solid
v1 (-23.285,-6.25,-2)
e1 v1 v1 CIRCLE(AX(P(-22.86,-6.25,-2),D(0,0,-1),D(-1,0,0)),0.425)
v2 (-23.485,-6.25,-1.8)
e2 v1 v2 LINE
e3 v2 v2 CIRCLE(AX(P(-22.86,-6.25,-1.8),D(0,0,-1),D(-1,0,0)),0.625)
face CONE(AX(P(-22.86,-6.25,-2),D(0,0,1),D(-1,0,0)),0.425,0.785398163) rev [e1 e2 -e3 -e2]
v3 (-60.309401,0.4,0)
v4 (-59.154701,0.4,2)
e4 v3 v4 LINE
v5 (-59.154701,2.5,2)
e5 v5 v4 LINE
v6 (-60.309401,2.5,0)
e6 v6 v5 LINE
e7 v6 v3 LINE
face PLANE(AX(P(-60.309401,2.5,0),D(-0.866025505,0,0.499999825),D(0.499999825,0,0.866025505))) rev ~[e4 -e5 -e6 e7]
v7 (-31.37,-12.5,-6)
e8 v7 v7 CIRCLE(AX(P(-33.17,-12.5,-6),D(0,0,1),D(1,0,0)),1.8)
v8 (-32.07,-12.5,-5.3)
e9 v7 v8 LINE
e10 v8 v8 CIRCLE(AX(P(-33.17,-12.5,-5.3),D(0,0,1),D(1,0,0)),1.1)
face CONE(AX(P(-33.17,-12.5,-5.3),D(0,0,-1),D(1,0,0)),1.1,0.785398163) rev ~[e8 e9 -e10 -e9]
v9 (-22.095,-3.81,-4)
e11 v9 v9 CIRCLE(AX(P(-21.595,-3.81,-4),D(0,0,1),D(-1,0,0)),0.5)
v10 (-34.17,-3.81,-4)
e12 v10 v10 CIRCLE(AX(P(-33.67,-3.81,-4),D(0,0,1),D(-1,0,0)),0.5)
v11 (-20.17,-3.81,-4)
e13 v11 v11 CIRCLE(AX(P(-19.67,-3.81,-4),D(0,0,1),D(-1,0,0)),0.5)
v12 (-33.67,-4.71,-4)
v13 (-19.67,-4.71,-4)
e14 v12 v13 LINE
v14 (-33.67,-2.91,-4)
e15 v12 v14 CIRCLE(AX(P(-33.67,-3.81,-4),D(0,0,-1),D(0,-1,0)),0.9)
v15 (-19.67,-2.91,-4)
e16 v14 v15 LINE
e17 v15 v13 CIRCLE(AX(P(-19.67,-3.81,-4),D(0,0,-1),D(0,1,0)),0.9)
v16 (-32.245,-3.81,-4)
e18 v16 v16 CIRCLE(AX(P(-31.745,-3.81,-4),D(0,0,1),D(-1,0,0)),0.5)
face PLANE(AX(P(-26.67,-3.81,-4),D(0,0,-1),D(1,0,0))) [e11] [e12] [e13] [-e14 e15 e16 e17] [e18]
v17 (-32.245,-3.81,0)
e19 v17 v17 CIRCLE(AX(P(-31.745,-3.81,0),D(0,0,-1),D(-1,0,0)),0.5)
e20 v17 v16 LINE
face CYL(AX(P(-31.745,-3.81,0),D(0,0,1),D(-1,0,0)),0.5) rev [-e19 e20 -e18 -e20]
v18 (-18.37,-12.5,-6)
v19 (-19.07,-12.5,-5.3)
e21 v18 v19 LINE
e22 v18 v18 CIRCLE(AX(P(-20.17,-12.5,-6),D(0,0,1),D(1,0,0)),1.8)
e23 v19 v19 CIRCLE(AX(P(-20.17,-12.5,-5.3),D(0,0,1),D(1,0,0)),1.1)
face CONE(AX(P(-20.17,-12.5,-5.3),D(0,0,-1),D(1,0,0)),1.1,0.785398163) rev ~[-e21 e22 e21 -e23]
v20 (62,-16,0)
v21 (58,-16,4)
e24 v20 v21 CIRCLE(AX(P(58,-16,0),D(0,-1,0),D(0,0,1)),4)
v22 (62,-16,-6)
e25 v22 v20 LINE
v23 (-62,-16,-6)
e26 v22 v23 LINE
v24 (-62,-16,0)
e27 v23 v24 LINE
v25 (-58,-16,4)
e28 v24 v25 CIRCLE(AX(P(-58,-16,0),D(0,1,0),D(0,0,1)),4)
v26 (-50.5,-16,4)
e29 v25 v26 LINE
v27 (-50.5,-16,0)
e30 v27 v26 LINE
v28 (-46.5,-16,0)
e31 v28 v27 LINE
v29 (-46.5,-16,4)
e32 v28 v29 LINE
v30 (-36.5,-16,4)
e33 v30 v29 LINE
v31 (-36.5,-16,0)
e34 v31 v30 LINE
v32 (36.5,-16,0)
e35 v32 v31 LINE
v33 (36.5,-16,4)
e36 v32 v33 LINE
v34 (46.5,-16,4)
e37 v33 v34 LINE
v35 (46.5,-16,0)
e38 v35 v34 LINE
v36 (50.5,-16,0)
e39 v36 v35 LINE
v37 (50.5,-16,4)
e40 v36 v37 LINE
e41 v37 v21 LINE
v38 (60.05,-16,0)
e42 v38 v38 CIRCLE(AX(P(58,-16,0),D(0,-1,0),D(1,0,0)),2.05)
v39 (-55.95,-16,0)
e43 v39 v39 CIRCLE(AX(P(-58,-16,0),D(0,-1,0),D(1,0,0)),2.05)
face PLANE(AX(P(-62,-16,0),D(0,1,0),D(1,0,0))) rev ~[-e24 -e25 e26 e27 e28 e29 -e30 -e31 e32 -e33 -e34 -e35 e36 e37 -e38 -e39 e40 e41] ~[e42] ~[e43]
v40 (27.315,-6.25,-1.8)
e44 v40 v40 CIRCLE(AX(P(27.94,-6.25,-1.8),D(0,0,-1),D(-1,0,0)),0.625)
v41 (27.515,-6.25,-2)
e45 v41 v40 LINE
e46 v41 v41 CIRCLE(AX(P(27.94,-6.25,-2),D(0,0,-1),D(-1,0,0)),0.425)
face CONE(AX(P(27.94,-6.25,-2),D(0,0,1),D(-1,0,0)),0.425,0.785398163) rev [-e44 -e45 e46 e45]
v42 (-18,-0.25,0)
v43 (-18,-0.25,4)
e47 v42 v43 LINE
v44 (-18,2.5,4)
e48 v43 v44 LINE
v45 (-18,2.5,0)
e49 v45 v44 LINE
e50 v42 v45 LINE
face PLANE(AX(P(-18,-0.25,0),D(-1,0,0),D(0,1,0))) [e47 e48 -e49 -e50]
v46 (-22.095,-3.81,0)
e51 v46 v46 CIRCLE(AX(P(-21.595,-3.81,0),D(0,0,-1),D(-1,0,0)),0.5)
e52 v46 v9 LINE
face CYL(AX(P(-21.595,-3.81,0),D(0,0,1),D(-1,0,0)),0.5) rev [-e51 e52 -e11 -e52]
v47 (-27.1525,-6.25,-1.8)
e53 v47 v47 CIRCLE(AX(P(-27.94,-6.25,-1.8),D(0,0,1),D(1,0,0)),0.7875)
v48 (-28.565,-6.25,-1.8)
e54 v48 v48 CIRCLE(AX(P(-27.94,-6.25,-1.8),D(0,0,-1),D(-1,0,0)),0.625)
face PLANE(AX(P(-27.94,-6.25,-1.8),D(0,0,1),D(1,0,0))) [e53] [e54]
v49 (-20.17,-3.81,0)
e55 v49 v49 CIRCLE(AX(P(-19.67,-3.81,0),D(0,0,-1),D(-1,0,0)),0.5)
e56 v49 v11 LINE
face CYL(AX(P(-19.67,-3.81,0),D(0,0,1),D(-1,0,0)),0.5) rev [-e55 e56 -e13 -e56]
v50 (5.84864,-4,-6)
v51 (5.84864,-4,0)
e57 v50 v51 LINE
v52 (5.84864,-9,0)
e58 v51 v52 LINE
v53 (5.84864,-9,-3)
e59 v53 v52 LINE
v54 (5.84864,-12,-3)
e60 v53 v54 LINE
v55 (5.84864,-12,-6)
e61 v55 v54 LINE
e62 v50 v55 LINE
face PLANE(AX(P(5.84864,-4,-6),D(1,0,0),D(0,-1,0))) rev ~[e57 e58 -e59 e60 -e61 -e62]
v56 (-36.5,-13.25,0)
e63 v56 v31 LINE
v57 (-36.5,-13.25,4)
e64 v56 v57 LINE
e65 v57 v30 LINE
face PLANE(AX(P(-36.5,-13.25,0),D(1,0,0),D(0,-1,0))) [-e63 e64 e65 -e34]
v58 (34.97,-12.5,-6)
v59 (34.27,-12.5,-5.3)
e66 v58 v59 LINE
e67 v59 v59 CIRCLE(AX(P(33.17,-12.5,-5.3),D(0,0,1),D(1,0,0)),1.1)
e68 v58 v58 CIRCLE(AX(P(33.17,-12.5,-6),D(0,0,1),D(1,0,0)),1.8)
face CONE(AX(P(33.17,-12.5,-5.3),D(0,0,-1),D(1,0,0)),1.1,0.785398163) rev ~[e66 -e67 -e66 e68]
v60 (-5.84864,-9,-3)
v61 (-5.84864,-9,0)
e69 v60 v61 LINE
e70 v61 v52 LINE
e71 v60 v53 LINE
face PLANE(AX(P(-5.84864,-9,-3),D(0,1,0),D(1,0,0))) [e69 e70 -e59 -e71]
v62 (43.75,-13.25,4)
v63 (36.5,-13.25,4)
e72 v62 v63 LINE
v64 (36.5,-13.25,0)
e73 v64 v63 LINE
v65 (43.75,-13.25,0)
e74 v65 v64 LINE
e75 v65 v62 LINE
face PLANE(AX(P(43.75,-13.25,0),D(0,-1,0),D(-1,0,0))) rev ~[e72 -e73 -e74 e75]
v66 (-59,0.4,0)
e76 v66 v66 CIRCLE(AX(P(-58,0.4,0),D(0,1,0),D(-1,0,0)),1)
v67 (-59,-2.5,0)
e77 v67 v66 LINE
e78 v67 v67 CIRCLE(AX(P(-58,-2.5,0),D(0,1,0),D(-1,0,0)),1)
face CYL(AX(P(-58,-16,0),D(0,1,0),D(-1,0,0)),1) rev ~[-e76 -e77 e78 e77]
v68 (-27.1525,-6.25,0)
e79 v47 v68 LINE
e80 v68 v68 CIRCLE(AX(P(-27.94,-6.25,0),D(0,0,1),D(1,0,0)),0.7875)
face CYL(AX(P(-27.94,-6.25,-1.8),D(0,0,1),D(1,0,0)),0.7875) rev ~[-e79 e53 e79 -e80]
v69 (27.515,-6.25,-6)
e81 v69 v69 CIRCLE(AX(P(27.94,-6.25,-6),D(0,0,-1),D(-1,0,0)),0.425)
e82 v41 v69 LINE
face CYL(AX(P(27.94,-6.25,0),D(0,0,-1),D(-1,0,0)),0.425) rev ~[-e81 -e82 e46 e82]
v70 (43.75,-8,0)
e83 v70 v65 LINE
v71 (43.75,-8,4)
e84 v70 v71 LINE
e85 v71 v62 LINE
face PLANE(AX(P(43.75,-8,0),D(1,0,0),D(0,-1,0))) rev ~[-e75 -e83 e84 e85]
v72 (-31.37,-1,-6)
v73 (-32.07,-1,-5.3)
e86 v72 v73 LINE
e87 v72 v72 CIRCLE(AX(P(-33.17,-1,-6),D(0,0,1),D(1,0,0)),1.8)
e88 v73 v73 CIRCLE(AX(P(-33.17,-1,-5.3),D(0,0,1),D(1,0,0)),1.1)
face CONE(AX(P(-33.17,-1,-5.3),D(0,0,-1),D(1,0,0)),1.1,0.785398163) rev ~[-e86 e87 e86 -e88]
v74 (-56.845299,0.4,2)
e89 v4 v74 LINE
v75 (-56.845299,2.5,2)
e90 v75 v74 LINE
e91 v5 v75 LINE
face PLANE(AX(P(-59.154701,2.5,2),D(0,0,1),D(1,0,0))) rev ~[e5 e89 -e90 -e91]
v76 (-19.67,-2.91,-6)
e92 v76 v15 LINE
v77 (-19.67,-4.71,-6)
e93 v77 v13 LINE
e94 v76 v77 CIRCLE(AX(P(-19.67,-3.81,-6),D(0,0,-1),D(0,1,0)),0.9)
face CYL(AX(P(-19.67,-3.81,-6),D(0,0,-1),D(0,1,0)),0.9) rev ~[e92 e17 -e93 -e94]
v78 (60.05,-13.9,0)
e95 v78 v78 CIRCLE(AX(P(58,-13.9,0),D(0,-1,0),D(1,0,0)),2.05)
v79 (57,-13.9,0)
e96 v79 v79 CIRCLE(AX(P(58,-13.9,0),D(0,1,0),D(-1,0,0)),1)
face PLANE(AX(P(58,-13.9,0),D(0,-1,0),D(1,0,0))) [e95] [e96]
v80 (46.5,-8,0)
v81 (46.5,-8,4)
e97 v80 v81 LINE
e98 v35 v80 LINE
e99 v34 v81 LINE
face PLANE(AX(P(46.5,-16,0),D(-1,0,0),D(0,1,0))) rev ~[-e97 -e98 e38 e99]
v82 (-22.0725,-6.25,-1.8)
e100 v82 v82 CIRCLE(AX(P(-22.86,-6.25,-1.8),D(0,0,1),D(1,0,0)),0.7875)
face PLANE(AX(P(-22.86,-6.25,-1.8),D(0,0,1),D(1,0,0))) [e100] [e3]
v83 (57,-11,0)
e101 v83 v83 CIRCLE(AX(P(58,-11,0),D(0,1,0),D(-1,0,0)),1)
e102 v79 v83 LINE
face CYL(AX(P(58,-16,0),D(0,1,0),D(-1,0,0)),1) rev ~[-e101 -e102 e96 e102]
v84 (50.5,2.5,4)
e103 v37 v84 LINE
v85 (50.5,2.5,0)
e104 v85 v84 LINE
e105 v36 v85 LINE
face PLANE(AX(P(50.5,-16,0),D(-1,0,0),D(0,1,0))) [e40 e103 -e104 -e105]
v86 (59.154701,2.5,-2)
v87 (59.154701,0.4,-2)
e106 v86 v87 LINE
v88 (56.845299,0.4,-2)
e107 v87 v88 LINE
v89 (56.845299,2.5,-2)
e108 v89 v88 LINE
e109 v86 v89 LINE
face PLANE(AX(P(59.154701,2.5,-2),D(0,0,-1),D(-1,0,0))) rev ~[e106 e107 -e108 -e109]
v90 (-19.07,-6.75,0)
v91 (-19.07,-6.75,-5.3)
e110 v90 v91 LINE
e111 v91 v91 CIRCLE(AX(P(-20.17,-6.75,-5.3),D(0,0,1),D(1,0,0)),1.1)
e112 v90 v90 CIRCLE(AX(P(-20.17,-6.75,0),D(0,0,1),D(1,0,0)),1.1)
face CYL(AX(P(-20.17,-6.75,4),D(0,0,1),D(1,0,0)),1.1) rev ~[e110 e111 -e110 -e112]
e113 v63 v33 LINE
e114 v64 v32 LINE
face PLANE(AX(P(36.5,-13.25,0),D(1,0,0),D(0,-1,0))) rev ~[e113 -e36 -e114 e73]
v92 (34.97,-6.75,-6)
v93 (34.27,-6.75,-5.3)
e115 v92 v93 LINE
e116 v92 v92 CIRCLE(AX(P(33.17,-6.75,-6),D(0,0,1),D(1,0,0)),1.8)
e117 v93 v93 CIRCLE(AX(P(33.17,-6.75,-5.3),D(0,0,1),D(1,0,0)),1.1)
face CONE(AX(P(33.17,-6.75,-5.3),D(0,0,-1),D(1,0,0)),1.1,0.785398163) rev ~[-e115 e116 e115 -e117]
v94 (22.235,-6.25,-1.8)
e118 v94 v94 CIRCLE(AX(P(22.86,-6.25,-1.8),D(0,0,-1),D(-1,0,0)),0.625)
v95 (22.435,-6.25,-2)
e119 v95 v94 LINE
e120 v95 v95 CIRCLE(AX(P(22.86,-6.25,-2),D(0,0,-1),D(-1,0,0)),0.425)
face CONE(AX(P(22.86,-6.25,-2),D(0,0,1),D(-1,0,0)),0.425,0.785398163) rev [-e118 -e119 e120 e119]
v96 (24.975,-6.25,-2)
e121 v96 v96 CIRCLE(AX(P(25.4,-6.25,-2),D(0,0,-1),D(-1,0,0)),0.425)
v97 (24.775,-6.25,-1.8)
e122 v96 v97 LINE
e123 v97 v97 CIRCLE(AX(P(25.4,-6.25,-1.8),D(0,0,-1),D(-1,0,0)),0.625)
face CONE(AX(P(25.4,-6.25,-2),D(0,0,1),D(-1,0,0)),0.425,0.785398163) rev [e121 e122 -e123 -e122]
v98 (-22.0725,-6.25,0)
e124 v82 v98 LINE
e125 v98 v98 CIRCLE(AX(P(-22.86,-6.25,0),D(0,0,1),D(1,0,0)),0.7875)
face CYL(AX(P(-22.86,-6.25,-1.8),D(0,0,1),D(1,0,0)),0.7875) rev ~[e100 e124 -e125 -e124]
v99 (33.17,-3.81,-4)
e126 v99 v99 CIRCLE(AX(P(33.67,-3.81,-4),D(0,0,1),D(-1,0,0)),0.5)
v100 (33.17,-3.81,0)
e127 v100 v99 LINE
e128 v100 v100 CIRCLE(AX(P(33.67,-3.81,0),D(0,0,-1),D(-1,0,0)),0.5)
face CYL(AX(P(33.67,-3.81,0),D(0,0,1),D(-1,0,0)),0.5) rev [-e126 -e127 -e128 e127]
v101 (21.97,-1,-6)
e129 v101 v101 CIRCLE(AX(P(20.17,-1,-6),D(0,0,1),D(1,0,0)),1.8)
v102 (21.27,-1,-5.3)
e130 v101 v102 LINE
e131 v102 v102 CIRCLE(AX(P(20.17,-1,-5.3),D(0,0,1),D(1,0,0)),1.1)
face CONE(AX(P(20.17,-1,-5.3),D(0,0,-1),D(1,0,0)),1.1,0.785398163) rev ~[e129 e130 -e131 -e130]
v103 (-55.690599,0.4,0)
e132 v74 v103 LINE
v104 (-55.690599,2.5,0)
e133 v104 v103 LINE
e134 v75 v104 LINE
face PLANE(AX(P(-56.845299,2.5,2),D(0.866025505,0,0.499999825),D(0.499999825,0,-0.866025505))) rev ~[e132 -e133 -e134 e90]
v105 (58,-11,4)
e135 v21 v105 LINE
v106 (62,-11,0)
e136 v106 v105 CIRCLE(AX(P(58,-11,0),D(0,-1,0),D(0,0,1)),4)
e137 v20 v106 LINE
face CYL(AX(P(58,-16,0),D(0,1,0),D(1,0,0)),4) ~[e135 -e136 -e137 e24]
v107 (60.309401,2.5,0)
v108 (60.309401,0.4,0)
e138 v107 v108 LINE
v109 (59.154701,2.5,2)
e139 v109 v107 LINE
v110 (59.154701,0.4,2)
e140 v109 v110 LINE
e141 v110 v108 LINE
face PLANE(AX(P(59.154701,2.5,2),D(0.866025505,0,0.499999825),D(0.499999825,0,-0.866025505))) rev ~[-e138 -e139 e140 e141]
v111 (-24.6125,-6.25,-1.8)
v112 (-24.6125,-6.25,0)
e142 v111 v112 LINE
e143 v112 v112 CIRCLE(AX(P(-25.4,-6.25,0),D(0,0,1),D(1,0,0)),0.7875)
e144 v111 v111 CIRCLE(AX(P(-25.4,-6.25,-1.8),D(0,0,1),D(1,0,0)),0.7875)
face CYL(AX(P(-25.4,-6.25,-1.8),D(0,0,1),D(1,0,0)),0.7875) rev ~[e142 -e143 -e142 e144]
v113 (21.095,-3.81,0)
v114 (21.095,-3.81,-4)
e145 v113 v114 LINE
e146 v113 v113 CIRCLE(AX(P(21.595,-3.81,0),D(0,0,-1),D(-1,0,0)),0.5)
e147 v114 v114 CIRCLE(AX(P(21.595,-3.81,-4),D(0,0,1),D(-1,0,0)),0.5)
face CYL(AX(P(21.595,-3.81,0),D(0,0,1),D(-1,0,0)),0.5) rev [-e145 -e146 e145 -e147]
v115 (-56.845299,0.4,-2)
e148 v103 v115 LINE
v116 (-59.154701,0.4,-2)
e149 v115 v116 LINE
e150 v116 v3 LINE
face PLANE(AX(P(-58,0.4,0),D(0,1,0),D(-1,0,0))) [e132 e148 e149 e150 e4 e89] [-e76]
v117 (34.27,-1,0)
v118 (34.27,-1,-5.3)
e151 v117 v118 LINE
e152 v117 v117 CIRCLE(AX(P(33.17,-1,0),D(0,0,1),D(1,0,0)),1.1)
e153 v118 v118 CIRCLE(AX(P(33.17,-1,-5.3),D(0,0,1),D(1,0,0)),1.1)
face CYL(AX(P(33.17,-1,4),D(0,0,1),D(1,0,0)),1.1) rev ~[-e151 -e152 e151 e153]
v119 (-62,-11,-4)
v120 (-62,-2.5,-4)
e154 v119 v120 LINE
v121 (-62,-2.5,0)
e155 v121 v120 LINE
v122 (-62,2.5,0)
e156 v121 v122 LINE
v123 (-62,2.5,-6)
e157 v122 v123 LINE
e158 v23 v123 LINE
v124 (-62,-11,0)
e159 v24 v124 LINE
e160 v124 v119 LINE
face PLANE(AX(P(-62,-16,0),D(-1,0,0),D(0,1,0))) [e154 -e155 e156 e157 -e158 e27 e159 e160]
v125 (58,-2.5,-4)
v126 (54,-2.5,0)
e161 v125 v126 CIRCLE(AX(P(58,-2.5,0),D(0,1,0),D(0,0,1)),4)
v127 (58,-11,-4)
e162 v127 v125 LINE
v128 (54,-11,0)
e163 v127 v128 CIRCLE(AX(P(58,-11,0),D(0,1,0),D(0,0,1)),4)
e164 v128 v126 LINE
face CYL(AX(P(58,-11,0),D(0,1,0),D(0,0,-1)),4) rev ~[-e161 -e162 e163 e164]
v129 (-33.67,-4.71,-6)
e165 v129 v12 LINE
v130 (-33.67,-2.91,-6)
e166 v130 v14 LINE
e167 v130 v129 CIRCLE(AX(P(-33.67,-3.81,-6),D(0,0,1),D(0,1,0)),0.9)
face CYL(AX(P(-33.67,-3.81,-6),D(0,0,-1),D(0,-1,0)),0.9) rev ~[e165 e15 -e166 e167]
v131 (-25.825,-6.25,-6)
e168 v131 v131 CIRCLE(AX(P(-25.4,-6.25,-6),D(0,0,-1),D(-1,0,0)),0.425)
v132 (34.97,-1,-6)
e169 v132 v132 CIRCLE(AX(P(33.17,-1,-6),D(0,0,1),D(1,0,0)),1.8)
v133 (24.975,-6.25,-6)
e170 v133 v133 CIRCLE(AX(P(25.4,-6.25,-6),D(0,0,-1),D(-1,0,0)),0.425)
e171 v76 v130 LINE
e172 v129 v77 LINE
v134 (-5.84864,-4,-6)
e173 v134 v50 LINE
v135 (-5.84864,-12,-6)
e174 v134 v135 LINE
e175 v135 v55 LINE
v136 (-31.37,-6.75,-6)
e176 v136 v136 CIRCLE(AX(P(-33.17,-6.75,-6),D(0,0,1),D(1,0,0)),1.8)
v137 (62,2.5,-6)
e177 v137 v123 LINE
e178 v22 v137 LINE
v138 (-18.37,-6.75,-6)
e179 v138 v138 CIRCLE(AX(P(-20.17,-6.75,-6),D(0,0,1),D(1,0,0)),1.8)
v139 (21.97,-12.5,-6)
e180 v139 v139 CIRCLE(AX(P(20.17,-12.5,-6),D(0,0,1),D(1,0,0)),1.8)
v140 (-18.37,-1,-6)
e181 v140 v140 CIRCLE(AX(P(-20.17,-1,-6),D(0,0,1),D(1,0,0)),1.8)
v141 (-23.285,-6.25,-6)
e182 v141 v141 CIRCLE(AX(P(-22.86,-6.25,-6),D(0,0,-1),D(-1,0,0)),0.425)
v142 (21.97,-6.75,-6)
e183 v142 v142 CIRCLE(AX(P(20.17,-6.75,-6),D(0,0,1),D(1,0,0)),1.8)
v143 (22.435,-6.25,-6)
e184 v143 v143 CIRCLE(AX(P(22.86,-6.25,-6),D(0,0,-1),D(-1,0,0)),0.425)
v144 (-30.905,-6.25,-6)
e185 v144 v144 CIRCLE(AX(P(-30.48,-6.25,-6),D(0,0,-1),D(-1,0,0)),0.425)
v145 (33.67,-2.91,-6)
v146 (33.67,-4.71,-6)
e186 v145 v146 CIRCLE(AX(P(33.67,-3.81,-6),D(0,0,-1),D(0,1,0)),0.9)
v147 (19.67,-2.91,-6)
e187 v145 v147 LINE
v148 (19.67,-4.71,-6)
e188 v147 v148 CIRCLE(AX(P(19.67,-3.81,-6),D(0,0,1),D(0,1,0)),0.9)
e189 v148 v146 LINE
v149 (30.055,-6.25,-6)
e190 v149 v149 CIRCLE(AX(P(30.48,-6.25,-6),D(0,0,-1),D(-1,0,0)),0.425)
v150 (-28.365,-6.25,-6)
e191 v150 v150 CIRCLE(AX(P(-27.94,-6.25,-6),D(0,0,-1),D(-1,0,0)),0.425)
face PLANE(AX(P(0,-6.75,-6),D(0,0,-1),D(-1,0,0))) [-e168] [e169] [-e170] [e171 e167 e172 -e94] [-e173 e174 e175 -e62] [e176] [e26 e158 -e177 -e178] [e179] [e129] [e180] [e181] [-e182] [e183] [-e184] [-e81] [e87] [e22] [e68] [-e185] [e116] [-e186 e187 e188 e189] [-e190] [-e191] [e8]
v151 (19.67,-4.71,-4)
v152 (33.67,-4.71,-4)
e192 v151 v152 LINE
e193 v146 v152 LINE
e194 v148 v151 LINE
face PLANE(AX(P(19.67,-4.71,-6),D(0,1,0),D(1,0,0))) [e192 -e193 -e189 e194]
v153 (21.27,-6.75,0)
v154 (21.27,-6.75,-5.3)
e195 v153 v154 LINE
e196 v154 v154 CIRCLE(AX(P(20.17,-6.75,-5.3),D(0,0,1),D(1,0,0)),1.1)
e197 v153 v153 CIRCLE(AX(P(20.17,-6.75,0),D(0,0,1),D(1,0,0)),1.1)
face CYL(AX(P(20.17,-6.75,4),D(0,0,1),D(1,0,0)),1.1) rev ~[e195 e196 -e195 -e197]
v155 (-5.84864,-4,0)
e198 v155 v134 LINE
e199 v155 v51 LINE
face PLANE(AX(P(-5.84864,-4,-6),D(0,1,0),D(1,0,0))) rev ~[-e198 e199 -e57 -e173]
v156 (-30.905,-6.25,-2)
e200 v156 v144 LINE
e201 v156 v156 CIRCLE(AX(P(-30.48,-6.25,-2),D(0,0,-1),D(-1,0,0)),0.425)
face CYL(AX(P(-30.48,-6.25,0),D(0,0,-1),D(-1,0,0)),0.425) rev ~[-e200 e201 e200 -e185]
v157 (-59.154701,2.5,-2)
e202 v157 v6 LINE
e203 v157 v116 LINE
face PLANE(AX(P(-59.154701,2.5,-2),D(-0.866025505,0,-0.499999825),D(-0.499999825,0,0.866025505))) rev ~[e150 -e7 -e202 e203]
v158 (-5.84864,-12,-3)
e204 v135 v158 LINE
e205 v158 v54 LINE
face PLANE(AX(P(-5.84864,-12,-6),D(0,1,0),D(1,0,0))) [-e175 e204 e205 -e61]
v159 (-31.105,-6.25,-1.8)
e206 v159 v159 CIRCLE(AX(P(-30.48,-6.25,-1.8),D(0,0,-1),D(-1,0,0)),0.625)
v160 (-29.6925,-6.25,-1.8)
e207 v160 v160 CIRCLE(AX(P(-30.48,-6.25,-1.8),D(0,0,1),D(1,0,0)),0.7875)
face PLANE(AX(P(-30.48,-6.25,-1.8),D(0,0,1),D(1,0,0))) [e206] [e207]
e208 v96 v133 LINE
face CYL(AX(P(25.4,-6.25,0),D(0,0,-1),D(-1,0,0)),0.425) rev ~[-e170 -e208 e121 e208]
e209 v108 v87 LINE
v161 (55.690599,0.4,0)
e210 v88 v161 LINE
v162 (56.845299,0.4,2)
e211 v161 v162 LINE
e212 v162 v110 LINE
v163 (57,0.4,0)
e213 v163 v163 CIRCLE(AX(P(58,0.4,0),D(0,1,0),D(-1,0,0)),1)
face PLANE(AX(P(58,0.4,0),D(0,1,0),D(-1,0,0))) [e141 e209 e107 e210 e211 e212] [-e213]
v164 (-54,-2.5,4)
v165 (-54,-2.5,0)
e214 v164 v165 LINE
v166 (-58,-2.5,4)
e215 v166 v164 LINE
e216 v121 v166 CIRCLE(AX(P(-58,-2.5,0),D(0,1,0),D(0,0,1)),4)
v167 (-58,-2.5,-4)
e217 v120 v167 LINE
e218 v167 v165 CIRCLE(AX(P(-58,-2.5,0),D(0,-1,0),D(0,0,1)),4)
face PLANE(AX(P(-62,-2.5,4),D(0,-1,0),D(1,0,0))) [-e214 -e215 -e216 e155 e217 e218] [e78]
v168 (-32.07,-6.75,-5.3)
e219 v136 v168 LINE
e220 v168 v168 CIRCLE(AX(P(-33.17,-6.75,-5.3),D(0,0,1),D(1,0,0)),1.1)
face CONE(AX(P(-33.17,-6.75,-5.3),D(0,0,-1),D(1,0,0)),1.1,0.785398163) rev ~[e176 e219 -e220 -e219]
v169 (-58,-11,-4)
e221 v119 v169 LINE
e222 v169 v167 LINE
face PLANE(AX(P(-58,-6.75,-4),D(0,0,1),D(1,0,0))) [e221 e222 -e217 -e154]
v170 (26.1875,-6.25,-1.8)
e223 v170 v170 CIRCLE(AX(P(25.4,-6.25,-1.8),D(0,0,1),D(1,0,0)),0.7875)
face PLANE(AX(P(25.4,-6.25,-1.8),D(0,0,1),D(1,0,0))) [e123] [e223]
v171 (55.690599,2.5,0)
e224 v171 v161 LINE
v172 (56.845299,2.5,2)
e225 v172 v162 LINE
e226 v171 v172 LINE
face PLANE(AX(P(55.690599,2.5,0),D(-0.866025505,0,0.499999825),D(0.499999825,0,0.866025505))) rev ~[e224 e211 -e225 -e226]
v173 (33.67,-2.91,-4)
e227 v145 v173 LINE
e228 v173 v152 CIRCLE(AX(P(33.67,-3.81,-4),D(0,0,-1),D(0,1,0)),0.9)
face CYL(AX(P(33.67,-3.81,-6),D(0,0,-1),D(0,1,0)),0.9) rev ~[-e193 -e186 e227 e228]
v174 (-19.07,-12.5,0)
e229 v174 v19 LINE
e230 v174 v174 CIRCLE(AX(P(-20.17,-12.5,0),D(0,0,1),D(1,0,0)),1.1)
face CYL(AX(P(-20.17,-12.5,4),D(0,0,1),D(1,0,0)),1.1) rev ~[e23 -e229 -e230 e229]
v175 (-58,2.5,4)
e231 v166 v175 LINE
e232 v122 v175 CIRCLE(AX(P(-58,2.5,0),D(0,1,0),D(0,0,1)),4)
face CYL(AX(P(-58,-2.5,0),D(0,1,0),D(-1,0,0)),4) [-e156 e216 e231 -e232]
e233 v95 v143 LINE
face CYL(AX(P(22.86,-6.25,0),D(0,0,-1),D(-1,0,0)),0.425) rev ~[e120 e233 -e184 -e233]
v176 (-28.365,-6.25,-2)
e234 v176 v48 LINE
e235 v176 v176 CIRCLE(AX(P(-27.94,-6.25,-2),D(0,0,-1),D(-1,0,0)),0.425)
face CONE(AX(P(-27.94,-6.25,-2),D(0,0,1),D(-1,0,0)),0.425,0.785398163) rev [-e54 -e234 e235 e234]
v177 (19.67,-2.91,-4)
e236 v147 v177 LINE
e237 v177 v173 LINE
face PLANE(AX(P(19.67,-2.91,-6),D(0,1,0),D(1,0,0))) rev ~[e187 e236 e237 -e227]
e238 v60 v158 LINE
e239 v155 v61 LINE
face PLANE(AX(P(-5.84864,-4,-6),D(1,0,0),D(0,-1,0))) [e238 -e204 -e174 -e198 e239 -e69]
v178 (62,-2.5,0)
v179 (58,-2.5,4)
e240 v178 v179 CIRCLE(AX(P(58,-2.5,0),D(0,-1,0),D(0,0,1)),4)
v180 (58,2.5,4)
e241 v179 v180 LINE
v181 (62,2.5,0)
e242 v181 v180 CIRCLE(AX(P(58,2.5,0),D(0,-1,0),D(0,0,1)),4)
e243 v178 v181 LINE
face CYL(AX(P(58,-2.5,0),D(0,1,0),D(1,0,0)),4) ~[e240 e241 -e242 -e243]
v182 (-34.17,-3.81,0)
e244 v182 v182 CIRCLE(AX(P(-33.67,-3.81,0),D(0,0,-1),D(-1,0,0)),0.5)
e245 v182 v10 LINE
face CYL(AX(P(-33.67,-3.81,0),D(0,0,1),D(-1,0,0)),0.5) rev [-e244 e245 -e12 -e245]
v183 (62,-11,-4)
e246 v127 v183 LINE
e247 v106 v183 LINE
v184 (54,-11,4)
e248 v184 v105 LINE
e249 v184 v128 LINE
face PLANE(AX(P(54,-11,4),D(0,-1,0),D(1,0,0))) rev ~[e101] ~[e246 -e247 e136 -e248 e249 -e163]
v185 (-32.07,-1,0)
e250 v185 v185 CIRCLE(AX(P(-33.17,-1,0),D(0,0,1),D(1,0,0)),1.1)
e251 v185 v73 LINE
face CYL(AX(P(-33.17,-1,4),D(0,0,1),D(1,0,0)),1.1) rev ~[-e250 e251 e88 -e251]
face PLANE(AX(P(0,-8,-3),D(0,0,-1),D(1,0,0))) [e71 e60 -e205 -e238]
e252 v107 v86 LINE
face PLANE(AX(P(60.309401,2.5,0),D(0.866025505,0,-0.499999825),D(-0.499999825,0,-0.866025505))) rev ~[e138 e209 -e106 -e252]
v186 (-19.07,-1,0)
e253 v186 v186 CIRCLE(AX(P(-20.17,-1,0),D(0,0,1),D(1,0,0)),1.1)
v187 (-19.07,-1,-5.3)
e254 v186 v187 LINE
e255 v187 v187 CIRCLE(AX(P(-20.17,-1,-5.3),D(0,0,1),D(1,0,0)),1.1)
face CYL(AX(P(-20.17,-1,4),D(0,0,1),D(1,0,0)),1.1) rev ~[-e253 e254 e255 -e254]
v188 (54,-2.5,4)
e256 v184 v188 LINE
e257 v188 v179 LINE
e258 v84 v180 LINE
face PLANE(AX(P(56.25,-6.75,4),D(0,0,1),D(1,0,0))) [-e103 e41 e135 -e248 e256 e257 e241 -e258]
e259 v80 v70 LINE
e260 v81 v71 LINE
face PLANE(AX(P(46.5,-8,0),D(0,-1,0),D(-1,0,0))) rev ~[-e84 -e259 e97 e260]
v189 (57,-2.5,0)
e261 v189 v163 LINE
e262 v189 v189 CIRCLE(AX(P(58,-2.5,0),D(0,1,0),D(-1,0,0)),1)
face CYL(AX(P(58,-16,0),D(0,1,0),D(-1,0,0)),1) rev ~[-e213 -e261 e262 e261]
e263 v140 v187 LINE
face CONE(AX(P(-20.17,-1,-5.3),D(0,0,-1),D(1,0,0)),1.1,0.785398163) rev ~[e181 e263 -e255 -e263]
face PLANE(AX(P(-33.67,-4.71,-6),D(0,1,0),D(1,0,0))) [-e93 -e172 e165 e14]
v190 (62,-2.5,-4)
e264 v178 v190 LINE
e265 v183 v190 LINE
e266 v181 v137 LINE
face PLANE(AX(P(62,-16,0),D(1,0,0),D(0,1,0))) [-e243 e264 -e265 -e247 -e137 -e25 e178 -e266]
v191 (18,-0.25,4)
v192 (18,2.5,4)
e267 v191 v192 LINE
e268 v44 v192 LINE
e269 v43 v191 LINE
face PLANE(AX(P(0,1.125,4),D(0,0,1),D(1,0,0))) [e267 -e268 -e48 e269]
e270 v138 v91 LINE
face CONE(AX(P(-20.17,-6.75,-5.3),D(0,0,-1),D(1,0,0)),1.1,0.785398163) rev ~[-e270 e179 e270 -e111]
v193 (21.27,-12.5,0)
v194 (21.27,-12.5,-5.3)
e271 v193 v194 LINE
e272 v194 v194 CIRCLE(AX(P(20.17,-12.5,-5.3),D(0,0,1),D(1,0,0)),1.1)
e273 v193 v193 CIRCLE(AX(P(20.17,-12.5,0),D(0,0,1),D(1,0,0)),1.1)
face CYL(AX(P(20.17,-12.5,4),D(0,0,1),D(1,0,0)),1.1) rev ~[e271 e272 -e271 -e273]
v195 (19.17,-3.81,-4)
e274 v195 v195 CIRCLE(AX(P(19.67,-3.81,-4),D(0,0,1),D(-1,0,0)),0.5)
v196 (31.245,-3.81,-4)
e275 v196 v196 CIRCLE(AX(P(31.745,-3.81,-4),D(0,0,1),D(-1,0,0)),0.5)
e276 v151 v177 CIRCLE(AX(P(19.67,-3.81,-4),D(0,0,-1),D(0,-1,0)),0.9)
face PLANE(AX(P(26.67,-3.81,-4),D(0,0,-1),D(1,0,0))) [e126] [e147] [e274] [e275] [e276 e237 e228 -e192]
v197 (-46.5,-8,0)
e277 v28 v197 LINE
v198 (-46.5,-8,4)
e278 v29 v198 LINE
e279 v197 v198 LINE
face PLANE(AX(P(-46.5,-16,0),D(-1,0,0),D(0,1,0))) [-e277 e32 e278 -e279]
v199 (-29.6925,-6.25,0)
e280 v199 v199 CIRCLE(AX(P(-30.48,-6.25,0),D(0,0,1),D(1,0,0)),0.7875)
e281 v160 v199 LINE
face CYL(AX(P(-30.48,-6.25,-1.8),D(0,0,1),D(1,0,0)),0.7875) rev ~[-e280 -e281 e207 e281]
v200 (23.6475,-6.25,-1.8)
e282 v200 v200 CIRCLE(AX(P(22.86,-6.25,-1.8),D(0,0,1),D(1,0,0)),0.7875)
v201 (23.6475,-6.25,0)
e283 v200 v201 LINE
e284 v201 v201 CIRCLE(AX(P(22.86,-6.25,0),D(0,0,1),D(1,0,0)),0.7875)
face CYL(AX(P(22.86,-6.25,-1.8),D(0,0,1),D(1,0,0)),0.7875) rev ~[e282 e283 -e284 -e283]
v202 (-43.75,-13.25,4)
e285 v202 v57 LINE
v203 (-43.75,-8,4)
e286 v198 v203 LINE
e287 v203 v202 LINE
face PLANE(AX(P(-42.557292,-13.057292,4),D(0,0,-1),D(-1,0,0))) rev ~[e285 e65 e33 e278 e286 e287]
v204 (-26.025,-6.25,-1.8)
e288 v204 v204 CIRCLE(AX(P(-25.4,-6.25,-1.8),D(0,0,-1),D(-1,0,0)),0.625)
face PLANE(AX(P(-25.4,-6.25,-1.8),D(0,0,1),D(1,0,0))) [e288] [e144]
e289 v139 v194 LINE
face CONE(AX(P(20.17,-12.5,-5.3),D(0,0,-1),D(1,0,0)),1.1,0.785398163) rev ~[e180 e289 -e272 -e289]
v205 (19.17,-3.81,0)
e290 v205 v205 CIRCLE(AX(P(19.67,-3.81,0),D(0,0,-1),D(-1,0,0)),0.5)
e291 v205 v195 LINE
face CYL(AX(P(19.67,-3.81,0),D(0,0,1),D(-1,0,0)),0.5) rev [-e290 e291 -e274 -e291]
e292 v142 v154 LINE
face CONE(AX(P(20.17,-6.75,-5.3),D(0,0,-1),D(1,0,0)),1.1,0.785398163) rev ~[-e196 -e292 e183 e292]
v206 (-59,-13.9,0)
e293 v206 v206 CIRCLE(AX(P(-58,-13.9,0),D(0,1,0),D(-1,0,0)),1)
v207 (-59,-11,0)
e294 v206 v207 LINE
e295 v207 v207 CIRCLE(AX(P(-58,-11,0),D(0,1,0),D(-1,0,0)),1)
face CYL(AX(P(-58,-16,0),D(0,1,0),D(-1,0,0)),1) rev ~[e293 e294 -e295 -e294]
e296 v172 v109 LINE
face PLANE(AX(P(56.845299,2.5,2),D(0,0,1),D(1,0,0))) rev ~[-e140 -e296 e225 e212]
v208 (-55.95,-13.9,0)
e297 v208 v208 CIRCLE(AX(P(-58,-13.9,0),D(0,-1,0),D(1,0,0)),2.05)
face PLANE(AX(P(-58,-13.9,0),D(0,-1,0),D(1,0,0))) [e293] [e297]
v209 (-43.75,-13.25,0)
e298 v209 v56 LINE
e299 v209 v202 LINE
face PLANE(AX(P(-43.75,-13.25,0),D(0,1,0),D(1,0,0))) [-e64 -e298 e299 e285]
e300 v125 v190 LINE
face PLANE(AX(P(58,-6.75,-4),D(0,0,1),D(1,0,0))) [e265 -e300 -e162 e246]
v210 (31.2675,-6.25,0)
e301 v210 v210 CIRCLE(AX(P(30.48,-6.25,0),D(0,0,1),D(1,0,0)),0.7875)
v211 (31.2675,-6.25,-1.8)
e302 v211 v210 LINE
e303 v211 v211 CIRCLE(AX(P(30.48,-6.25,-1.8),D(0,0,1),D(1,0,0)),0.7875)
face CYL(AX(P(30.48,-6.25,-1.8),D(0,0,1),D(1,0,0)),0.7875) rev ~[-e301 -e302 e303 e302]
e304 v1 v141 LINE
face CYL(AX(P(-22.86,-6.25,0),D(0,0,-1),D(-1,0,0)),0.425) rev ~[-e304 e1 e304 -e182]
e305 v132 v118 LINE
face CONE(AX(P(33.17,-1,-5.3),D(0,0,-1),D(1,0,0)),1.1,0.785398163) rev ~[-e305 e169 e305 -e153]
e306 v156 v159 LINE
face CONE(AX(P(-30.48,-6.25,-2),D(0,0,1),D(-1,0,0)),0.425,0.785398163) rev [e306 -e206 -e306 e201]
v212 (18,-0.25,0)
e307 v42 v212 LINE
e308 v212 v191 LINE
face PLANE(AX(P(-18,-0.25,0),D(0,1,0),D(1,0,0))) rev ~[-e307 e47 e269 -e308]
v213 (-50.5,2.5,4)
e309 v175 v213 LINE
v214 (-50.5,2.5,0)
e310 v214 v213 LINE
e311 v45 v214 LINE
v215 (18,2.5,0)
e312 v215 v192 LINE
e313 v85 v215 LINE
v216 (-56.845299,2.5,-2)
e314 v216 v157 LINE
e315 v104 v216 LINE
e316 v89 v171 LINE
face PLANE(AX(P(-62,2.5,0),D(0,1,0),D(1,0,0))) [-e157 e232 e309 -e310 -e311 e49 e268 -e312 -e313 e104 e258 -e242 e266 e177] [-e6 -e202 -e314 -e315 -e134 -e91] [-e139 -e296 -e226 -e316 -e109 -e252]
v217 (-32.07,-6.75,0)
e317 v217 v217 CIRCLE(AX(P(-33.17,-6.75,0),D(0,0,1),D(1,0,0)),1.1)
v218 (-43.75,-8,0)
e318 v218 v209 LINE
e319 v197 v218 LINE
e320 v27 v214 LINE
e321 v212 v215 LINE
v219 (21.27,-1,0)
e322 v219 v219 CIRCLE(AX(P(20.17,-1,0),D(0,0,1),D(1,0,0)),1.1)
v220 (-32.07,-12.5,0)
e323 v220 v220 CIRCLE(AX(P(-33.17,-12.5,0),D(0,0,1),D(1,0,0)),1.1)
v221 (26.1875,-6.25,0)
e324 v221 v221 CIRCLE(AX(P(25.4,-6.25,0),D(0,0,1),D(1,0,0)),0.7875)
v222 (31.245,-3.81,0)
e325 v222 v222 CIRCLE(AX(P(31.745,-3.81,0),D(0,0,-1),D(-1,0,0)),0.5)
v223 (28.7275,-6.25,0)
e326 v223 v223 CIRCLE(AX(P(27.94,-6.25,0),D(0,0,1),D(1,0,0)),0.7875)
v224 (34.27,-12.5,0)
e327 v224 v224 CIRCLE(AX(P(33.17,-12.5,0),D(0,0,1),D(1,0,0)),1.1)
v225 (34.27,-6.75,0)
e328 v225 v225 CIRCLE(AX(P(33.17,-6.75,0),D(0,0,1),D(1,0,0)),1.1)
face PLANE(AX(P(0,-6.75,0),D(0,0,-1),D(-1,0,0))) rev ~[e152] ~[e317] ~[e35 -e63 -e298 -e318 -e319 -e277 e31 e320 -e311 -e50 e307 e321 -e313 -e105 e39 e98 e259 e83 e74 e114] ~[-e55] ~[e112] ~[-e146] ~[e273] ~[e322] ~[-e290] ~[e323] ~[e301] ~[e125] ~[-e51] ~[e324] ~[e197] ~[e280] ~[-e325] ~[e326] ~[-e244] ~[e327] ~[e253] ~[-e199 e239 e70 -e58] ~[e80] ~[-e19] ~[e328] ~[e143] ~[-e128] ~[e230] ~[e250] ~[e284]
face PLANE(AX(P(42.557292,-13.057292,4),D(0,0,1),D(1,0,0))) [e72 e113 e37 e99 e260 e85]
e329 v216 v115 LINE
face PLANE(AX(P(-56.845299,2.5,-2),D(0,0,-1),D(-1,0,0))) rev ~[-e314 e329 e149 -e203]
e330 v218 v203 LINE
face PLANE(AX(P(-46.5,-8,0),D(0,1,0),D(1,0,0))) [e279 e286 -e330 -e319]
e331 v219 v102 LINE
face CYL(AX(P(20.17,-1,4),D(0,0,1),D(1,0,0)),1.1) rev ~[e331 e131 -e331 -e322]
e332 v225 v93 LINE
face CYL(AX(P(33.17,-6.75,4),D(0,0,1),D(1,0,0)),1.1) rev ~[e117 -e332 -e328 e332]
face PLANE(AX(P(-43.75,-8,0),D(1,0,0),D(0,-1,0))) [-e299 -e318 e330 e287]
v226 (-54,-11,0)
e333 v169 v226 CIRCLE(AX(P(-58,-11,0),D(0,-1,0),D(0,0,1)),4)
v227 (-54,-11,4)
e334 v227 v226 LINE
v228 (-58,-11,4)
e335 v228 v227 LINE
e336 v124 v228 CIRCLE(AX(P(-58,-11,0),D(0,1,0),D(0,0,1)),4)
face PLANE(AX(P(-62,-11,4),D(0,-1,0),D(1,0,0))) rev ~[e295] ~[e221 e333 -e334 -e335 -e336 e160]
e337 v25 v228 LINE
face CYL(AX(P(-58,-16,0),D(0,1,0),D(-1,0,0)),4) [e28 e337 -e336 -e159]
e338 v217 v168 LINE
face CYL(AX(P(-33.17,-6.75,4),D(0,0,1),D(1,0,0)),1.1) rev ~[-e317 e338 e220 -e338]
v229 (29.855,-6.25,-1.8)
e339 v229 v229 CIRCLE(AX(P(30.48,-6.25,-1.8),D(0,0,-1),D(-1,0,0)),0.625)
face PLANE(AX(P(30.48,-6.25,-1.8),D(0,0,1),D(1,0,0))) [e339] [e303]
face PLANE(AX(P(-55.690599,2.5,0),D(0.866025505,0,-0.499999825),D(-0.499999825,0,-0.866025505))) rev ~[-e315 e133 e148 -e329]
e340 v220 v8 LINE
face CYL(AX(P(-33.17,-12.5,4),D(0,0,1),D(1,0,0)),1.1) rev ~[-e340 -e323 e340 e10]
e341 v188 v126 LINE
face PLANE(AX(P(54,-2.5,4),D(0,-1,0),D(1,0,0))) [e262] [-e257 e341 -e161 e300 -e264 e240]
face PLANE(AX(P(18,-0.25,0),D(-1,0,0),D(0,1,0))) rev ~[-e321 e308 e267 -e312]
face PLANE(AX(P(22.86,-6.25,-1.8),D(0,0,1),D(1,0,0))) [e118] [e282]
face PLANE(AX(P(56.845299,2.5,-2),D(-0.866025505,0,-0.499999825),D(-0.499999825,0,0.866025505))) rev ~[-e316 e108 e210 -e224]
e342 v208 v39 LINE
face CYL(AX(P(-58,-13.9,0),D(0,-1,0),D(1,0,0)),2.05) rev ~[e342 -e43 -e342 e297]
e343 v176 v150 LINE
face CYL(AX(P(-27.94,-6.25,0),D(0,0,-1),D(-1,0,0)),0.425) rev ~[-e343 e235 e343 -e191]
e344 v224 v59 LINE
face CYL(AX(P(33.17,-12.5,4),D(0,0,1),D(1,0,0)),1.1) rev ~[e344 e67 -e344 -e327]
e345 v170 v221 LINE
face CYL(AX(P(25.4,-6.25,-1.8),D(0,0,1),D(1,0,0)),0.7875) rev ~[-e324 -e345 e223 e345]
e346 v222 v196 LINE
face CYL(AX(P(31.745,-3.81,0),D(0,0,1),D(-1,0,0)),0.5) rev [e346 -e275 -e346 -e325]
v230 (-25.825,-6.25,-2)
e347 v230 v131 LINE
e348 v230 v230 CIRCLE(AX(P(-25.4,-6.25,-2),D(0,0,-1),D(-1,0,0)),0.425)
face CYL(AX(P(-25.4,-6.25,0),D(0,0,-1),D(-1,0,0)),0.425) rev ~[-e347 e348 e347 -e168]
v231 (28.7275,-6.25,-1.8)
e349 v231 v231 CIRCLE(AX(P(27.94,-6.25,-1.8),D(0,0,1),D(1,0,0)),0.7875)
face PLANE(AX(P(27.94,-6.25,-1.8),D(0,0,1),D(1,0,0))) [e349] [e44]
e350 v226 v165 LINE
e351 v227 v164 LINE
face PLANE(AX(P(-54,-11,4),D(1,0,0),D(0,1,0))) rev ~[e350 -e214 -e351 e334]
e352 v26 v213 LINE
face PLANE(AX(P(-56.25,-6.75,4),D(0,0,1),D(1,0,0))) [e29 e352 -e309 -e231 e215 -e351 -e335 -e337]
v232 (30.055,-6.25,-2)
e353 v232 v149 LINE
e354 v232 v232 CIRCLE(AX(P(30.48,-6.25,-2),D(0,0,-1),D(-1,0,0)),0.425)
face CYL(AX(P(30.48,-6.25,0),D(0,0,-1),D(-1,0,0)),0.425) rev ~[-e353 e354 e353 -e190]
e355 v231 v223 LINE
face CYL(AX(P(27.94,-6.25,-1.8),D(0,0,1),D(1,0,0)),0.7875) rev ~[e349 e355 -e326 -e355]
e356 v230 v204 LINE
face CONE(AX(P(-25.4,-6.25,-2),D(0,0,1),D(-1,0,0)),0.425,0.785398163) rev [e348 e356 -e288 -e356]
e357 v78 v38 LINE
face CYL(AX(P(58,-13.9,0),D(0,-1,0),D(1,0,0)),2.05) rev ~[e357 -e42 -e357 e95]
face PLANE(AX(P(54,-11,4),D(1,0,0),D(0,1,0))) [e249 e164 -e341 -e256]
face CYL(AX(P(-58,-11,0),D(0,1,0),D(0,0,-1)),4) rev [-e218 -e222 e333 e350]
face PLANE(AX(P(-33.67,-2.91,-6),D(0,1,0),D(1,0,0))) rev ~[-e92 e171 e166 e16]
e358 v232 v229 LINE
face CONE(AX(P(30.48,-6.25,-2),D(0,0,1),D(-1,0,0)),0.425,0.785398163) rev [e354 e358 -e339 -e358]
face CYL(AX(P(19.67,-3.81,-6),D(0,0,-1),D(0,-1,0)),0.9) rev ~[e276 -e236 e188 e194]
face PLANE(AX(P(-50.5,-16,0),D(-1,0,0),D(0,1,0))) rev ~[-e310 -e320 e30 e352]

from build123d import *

# Parameters (mm, degrees)
SKETCH_W            = 124
SKETCH_H            = 18.5
SKETCH_R            = 0.5
PAD_DEPTH           = 6
HOLE_D              = 0.85
HOLE_DEPTH          = 25
HOLE_CBORE_D        = 1.575
HOLE_CBORE_DEPTH    = 1.8
CHAMFER_SIZE        = 0.2
SKETCH002_W         = 11.5
SKETCH002_H         = 18.5
SKETCH002_W_2       = 36
SKETCH002_H_2       = 2.75
PAD001_DEPTH        = 4
CHAMFER001_SIZE     = 0.4
SKETCH003_R         = 1.1
POCKET_DEPTH        = 10.001
CHAMFER002_SIZE     = 0.7
SKETCH004_W         = 8
SKETCH004_H         = 8.5
POCKET001_DEPTH     = 8
HOLE003_D           = 2
HOLE003_CBORE_D     = 4.1
HOLE003_CBORE_DEPTH = 2.1
FILLET_R            = 4
POCKET002_DEPTH     = 2.1
SKETCH022_W         = 11.69728
SKETCH022_H         = 8
POCKET005_DEPTH     = 3
SKETCH023_W         = 11.69728
SKETCH023_H         = 5
POCKET006_DEPTH     = 5
POCKET007_DEPTH     = 2


with BuildPart() as part:
    # Sketch → Pad (new body)
    with BuildSketch(Plane(origin=(0, 0, 0), x_dir=(-1, 0, 0), z_dir=(0, 0, -1))):
        with Locations((0, -6.75)):
            Rectangle(SKETCH_W, SKETCH_H)
        with Locations((-33.67, -3.81)):
            Circle(SKETCH_R, mode=Mode.SUBTRACT)
        with Locations((-31.745, -3.81)):
            Circle(SKETCH_R, mode=Mode.SUBTRACT)
        with Locations((-21.595, -3.81)):
            Circle(SKETCH_R, mode=Mode.SUBTRACT)
        with Locations((-19.67, -3.81)):
            Circle(SKETCH_R, mode=Mode.SUBTRACT)
        with Locations((19.67, -3.81)):
            Circle(SKETCH_R, mode=Mode.SUBTRACT)
        with Locations((21.595, -3.81)):
            Circle(SKETCH_R, mode=Mode.SUBTRACT)
        with Locations((31.745, -3.81)):
            Circle(SKETCH_R, mode=Mode.SUBTRACT)
        with Locations((33.67, -3.81)):
            Circle(SKETCH_R, mode=Mode.SUBTRACT)
    extrude(amount=PAD_DEPTH)

    # Hole
    with Locations(Plane.XY):
        with Locations((-30.48, -6.25), (-27.94, -6.25), (-25.4, -6.25), (-22.86, -6.25), (22.86, -6.25), (25.4, -6.25), (27.94, -6.25), (30.48, -6.25)):
            CounterBoreHole(HOLE_D / 2, HOLE_CBORE_D / 2, HOLE_CBORE_DEPTH, depth=HOLE_DEPTH)

    # Chamfer
    chamfer_edges = [part.edges().sort_by_distance(p)[0] for p in [
        (30.055, -6.25, -1.8),
        (27.515, -6.25, -1.8),
        (24.975, -6.25, -1.8),
        (22.435, -6.25, -1.8),
        (-30.905, -6.25, -1.8),
        (-28.365, -6.25, -1.8),
        (-25.825, -6.25, -1.8),
        (-23.285, -6.25, -1.8),
    ]]
    chamfer(chamfer_edges, length=CHAMFER_SIZE)

    # Sketch002 (on Face25 of Chamfer) → Pad001 (join)
    with BuildSketch(Plane.XY):
        with Locations((-56.25, -6.75)):
            Rectangle(SKETCH002_W, SKETCH002_H)
        with Locations((56.25, -6.75)):
            Rectangle(SKETCH002_W, SKETCH002_H)
        with Locations((0, 1.125)):
            Rectangle(SKETCH002_W_2, SKETCH002_H_2)
        Polygon((-46.5, -16), (-46.5, -8), (-43.75, -8), (-43.75, -13.25), (-36.5, -13.25), (-36.5, -16), align=None)
        Polygon((46.5, -16), (46.5, -8), (43.75, -8), (43.75, -13.25), (36.5, -13.25), (36.5, -16), align=None)
    extrude(amount=PAD001_DEPTH)

    # Chamfer001
    chamfer001_edges = [part.edges().sort_by_distance(p)[0] for p in [
        (34.17, -3.81, -6),
        (32.245, -3.81, -6),
        (22.095, -3.81, -6),
        (20.17, -3.81, -6),
        (-19.17, -3.81, -6),
        (-21.095, -3.81, -6),
        (-31.245, -3.81, -6),
        (-33.17, -3.81, -6),
    ]]
    chamfer(chamfer001_edges, length=CHAMFER001_SIZE)

    # Sketch003 (on Face23 of Chamfer001) → Pocket (cut, through all)
    with BuildSketch(Plane.XY.offset(4)):
        with Locations((-33.17, -1)):
            Circle(SKETCH003_R)
        with Locations((-20.17, -1)):
            Circle(SKETCH003_R)
        with Locations((-33.17, -6.75)):
            Circle(SKETCH003_R)
        with Locations((-20.17, -6.75)):
            Circle(SKETCH003_R)
        with Locations((-20.17, -12.5)):
            Circle(SKETCH003_R)
        with Locations((-33.17, -12.5)):
            Circle(SKETCH003_R)
        with Locations((20.17, -1)):
            Circle(SKETCH003_R)
        with Locations((33.17, -1)):
            Circle(SKETCH003_R)
        with Locations((20.17, -6.75)):
            Circle(SKETCH003_R)
        with Locations((33.17, -6.75)):
            Circle(SKETCH003_R)
        with Locations((33.17, -12.5)):
            Circle(SKETCH003_R)
        with Locations((20.17, -12.5)):
            Circle(SKETCH003_R)
    extrude(amount=-POCKET_DEPTH, mode=Mode.SUBTRACT)

    # Chamfer002
    chamfer002_edges = [part.edges().sort_by_distance(p)[0] for p in [
        (32.07, -6.75, -6),
        (-21.27, -1, -6),
        (19.07, -12.5, -6),
        (19.07, -6.75, -6),
        (19.07, -1, -6),
        (32.07, -1, -6),
        (-34.27, -6.75, -6),
        (-34.27, -12.5, -6),
        (-21.27, -12.5, -6),
        (-21.27, -6.75, -6),
        (32.07, -12.5, -6),
        (-34.27, -1, -6),
    ]]
    chamfer(chamfer002_edges, length=CHAMFER002_SIZE)

    # Sketch004 (on Face35 of Chamfer002) → Pocket001 (cut)
    with BuildSketch(Plane.XY.offset(4)):
        with Locations((-58, -6.75)):
            Rectangle(SKETCH004_W, SKETCH004_H)
        with Locations((58, -6.75)):
            Rectangle(SKETCH004_W, SKETCH004_H)
    extrude(amount=-POCKET001_DEPTH, mode=Mode.SUBTRACT)

    # Hole003 (through all)
    with Locations(Plane.XZ.offset(16)):
        with Locations((-58, 0), (58, 0)):
            CounterBoreHole(HOLE003_D / 2, HOLE003_CBORE_D / 2, HOLE003_CBORE_DEPTH)

    # Fillet
    fillet_edges = [part.edges().sort_by_distance(p)[0] for p in [
        (-62, 0, 4),
        (-62, -13.5, 4),
        (62, 0, 4),
        (62, -13.5, 4),
        (54, -6.75, -4),
        (-54, -6.75, -4),
    ]]
    fillet(fillet_edges, radius=FILLET_R)

    # Sketch015 (on Face1 of Fillet) → Pocket002 (cut)
    with BuildSketch(Plane(origin=(0, 2.5, 0), x_dir=(-1, 0, 0), z_dir=(0, 1, 0))):
        Polygon((-56.845299, 2), (-59.154701, 2), (-60.309401, 0), (-59.154701, -2), (-56.845299, -2), (-55.690599, 0), align=None)
        Polygon((55.690599, 0), (56.845299, -2), (59.154701, -2), (60.309401, 0), (59.154701, 2), (56.845299, 2), align=None)
    extrude(amount=-POCKET002_DEPTH, mode=Mode.SUBTRACT)

    # Sketch022 (on Face4 of Pocket002) → Pocket005 (cut)
    with BuildSketch(Plane(origin=(0, 0, -6), x_dir=(1, 0, 0), z_dir=(0, 0, -1))):
        with Locations((0, 8)):
            Rectangle(SKETCH022_W, SKETCH022_H)
    extrude(amount=-POCKET005_DEPTH, mode=Mode.SUBTRACT)

    # Sketch023 (on Face122 of Pocket005) → Pocket006 (cut)
    with BuildSketch(Plane(origin=(0, 0, -3), x_dir=(1, 0, 0), z_dir=(0, 0, -1))):
        with Locations((0, 6.5)):
            Rectangle(SKETCH023_W, SKETCH023_H)
    extrude(amount=-POCKET006_DEPTH, mode=Mode.SUBTRACT)

    # Sketch027 (on Face4 of Pocket006) → Pocket007 (cut)
    with BuildSketch(Plane(origin=(0, 0, -6), x_dir=(1, 0, 0), z_dir=(0, 0, -1))):
        with BuildLine():
            ThreePointArc((-33.67, 4.71), (-34.57, 3.81), (-33.67, 2.91))
            Line((-33.67, 2.91), (-19.67, 2.91))
            ThreePointArc((-19.67, 2.91), (-18.77, 3.81), (-19.67, 4.71))
            Line((-33.67, 4.71), (-19.67, 4.71))
        make_face()
        with BuildLine():
            ThreePointArc((19.67, 4.71), (18.77, 3.81), (19.67, 2.91))
            Line((19.67, 2.91), (33.67, 2.91))
            ThreePointArc((33.67, 2.91), (34.57, 3.81), (33.67, 4.71))
            Line((19.67, 4.71), (33.67, 4.71))
        make_face()
    extrude(amount=-POCKET007_DEPTH, mode=Mode.SUBTRACT)


solid = part.part
